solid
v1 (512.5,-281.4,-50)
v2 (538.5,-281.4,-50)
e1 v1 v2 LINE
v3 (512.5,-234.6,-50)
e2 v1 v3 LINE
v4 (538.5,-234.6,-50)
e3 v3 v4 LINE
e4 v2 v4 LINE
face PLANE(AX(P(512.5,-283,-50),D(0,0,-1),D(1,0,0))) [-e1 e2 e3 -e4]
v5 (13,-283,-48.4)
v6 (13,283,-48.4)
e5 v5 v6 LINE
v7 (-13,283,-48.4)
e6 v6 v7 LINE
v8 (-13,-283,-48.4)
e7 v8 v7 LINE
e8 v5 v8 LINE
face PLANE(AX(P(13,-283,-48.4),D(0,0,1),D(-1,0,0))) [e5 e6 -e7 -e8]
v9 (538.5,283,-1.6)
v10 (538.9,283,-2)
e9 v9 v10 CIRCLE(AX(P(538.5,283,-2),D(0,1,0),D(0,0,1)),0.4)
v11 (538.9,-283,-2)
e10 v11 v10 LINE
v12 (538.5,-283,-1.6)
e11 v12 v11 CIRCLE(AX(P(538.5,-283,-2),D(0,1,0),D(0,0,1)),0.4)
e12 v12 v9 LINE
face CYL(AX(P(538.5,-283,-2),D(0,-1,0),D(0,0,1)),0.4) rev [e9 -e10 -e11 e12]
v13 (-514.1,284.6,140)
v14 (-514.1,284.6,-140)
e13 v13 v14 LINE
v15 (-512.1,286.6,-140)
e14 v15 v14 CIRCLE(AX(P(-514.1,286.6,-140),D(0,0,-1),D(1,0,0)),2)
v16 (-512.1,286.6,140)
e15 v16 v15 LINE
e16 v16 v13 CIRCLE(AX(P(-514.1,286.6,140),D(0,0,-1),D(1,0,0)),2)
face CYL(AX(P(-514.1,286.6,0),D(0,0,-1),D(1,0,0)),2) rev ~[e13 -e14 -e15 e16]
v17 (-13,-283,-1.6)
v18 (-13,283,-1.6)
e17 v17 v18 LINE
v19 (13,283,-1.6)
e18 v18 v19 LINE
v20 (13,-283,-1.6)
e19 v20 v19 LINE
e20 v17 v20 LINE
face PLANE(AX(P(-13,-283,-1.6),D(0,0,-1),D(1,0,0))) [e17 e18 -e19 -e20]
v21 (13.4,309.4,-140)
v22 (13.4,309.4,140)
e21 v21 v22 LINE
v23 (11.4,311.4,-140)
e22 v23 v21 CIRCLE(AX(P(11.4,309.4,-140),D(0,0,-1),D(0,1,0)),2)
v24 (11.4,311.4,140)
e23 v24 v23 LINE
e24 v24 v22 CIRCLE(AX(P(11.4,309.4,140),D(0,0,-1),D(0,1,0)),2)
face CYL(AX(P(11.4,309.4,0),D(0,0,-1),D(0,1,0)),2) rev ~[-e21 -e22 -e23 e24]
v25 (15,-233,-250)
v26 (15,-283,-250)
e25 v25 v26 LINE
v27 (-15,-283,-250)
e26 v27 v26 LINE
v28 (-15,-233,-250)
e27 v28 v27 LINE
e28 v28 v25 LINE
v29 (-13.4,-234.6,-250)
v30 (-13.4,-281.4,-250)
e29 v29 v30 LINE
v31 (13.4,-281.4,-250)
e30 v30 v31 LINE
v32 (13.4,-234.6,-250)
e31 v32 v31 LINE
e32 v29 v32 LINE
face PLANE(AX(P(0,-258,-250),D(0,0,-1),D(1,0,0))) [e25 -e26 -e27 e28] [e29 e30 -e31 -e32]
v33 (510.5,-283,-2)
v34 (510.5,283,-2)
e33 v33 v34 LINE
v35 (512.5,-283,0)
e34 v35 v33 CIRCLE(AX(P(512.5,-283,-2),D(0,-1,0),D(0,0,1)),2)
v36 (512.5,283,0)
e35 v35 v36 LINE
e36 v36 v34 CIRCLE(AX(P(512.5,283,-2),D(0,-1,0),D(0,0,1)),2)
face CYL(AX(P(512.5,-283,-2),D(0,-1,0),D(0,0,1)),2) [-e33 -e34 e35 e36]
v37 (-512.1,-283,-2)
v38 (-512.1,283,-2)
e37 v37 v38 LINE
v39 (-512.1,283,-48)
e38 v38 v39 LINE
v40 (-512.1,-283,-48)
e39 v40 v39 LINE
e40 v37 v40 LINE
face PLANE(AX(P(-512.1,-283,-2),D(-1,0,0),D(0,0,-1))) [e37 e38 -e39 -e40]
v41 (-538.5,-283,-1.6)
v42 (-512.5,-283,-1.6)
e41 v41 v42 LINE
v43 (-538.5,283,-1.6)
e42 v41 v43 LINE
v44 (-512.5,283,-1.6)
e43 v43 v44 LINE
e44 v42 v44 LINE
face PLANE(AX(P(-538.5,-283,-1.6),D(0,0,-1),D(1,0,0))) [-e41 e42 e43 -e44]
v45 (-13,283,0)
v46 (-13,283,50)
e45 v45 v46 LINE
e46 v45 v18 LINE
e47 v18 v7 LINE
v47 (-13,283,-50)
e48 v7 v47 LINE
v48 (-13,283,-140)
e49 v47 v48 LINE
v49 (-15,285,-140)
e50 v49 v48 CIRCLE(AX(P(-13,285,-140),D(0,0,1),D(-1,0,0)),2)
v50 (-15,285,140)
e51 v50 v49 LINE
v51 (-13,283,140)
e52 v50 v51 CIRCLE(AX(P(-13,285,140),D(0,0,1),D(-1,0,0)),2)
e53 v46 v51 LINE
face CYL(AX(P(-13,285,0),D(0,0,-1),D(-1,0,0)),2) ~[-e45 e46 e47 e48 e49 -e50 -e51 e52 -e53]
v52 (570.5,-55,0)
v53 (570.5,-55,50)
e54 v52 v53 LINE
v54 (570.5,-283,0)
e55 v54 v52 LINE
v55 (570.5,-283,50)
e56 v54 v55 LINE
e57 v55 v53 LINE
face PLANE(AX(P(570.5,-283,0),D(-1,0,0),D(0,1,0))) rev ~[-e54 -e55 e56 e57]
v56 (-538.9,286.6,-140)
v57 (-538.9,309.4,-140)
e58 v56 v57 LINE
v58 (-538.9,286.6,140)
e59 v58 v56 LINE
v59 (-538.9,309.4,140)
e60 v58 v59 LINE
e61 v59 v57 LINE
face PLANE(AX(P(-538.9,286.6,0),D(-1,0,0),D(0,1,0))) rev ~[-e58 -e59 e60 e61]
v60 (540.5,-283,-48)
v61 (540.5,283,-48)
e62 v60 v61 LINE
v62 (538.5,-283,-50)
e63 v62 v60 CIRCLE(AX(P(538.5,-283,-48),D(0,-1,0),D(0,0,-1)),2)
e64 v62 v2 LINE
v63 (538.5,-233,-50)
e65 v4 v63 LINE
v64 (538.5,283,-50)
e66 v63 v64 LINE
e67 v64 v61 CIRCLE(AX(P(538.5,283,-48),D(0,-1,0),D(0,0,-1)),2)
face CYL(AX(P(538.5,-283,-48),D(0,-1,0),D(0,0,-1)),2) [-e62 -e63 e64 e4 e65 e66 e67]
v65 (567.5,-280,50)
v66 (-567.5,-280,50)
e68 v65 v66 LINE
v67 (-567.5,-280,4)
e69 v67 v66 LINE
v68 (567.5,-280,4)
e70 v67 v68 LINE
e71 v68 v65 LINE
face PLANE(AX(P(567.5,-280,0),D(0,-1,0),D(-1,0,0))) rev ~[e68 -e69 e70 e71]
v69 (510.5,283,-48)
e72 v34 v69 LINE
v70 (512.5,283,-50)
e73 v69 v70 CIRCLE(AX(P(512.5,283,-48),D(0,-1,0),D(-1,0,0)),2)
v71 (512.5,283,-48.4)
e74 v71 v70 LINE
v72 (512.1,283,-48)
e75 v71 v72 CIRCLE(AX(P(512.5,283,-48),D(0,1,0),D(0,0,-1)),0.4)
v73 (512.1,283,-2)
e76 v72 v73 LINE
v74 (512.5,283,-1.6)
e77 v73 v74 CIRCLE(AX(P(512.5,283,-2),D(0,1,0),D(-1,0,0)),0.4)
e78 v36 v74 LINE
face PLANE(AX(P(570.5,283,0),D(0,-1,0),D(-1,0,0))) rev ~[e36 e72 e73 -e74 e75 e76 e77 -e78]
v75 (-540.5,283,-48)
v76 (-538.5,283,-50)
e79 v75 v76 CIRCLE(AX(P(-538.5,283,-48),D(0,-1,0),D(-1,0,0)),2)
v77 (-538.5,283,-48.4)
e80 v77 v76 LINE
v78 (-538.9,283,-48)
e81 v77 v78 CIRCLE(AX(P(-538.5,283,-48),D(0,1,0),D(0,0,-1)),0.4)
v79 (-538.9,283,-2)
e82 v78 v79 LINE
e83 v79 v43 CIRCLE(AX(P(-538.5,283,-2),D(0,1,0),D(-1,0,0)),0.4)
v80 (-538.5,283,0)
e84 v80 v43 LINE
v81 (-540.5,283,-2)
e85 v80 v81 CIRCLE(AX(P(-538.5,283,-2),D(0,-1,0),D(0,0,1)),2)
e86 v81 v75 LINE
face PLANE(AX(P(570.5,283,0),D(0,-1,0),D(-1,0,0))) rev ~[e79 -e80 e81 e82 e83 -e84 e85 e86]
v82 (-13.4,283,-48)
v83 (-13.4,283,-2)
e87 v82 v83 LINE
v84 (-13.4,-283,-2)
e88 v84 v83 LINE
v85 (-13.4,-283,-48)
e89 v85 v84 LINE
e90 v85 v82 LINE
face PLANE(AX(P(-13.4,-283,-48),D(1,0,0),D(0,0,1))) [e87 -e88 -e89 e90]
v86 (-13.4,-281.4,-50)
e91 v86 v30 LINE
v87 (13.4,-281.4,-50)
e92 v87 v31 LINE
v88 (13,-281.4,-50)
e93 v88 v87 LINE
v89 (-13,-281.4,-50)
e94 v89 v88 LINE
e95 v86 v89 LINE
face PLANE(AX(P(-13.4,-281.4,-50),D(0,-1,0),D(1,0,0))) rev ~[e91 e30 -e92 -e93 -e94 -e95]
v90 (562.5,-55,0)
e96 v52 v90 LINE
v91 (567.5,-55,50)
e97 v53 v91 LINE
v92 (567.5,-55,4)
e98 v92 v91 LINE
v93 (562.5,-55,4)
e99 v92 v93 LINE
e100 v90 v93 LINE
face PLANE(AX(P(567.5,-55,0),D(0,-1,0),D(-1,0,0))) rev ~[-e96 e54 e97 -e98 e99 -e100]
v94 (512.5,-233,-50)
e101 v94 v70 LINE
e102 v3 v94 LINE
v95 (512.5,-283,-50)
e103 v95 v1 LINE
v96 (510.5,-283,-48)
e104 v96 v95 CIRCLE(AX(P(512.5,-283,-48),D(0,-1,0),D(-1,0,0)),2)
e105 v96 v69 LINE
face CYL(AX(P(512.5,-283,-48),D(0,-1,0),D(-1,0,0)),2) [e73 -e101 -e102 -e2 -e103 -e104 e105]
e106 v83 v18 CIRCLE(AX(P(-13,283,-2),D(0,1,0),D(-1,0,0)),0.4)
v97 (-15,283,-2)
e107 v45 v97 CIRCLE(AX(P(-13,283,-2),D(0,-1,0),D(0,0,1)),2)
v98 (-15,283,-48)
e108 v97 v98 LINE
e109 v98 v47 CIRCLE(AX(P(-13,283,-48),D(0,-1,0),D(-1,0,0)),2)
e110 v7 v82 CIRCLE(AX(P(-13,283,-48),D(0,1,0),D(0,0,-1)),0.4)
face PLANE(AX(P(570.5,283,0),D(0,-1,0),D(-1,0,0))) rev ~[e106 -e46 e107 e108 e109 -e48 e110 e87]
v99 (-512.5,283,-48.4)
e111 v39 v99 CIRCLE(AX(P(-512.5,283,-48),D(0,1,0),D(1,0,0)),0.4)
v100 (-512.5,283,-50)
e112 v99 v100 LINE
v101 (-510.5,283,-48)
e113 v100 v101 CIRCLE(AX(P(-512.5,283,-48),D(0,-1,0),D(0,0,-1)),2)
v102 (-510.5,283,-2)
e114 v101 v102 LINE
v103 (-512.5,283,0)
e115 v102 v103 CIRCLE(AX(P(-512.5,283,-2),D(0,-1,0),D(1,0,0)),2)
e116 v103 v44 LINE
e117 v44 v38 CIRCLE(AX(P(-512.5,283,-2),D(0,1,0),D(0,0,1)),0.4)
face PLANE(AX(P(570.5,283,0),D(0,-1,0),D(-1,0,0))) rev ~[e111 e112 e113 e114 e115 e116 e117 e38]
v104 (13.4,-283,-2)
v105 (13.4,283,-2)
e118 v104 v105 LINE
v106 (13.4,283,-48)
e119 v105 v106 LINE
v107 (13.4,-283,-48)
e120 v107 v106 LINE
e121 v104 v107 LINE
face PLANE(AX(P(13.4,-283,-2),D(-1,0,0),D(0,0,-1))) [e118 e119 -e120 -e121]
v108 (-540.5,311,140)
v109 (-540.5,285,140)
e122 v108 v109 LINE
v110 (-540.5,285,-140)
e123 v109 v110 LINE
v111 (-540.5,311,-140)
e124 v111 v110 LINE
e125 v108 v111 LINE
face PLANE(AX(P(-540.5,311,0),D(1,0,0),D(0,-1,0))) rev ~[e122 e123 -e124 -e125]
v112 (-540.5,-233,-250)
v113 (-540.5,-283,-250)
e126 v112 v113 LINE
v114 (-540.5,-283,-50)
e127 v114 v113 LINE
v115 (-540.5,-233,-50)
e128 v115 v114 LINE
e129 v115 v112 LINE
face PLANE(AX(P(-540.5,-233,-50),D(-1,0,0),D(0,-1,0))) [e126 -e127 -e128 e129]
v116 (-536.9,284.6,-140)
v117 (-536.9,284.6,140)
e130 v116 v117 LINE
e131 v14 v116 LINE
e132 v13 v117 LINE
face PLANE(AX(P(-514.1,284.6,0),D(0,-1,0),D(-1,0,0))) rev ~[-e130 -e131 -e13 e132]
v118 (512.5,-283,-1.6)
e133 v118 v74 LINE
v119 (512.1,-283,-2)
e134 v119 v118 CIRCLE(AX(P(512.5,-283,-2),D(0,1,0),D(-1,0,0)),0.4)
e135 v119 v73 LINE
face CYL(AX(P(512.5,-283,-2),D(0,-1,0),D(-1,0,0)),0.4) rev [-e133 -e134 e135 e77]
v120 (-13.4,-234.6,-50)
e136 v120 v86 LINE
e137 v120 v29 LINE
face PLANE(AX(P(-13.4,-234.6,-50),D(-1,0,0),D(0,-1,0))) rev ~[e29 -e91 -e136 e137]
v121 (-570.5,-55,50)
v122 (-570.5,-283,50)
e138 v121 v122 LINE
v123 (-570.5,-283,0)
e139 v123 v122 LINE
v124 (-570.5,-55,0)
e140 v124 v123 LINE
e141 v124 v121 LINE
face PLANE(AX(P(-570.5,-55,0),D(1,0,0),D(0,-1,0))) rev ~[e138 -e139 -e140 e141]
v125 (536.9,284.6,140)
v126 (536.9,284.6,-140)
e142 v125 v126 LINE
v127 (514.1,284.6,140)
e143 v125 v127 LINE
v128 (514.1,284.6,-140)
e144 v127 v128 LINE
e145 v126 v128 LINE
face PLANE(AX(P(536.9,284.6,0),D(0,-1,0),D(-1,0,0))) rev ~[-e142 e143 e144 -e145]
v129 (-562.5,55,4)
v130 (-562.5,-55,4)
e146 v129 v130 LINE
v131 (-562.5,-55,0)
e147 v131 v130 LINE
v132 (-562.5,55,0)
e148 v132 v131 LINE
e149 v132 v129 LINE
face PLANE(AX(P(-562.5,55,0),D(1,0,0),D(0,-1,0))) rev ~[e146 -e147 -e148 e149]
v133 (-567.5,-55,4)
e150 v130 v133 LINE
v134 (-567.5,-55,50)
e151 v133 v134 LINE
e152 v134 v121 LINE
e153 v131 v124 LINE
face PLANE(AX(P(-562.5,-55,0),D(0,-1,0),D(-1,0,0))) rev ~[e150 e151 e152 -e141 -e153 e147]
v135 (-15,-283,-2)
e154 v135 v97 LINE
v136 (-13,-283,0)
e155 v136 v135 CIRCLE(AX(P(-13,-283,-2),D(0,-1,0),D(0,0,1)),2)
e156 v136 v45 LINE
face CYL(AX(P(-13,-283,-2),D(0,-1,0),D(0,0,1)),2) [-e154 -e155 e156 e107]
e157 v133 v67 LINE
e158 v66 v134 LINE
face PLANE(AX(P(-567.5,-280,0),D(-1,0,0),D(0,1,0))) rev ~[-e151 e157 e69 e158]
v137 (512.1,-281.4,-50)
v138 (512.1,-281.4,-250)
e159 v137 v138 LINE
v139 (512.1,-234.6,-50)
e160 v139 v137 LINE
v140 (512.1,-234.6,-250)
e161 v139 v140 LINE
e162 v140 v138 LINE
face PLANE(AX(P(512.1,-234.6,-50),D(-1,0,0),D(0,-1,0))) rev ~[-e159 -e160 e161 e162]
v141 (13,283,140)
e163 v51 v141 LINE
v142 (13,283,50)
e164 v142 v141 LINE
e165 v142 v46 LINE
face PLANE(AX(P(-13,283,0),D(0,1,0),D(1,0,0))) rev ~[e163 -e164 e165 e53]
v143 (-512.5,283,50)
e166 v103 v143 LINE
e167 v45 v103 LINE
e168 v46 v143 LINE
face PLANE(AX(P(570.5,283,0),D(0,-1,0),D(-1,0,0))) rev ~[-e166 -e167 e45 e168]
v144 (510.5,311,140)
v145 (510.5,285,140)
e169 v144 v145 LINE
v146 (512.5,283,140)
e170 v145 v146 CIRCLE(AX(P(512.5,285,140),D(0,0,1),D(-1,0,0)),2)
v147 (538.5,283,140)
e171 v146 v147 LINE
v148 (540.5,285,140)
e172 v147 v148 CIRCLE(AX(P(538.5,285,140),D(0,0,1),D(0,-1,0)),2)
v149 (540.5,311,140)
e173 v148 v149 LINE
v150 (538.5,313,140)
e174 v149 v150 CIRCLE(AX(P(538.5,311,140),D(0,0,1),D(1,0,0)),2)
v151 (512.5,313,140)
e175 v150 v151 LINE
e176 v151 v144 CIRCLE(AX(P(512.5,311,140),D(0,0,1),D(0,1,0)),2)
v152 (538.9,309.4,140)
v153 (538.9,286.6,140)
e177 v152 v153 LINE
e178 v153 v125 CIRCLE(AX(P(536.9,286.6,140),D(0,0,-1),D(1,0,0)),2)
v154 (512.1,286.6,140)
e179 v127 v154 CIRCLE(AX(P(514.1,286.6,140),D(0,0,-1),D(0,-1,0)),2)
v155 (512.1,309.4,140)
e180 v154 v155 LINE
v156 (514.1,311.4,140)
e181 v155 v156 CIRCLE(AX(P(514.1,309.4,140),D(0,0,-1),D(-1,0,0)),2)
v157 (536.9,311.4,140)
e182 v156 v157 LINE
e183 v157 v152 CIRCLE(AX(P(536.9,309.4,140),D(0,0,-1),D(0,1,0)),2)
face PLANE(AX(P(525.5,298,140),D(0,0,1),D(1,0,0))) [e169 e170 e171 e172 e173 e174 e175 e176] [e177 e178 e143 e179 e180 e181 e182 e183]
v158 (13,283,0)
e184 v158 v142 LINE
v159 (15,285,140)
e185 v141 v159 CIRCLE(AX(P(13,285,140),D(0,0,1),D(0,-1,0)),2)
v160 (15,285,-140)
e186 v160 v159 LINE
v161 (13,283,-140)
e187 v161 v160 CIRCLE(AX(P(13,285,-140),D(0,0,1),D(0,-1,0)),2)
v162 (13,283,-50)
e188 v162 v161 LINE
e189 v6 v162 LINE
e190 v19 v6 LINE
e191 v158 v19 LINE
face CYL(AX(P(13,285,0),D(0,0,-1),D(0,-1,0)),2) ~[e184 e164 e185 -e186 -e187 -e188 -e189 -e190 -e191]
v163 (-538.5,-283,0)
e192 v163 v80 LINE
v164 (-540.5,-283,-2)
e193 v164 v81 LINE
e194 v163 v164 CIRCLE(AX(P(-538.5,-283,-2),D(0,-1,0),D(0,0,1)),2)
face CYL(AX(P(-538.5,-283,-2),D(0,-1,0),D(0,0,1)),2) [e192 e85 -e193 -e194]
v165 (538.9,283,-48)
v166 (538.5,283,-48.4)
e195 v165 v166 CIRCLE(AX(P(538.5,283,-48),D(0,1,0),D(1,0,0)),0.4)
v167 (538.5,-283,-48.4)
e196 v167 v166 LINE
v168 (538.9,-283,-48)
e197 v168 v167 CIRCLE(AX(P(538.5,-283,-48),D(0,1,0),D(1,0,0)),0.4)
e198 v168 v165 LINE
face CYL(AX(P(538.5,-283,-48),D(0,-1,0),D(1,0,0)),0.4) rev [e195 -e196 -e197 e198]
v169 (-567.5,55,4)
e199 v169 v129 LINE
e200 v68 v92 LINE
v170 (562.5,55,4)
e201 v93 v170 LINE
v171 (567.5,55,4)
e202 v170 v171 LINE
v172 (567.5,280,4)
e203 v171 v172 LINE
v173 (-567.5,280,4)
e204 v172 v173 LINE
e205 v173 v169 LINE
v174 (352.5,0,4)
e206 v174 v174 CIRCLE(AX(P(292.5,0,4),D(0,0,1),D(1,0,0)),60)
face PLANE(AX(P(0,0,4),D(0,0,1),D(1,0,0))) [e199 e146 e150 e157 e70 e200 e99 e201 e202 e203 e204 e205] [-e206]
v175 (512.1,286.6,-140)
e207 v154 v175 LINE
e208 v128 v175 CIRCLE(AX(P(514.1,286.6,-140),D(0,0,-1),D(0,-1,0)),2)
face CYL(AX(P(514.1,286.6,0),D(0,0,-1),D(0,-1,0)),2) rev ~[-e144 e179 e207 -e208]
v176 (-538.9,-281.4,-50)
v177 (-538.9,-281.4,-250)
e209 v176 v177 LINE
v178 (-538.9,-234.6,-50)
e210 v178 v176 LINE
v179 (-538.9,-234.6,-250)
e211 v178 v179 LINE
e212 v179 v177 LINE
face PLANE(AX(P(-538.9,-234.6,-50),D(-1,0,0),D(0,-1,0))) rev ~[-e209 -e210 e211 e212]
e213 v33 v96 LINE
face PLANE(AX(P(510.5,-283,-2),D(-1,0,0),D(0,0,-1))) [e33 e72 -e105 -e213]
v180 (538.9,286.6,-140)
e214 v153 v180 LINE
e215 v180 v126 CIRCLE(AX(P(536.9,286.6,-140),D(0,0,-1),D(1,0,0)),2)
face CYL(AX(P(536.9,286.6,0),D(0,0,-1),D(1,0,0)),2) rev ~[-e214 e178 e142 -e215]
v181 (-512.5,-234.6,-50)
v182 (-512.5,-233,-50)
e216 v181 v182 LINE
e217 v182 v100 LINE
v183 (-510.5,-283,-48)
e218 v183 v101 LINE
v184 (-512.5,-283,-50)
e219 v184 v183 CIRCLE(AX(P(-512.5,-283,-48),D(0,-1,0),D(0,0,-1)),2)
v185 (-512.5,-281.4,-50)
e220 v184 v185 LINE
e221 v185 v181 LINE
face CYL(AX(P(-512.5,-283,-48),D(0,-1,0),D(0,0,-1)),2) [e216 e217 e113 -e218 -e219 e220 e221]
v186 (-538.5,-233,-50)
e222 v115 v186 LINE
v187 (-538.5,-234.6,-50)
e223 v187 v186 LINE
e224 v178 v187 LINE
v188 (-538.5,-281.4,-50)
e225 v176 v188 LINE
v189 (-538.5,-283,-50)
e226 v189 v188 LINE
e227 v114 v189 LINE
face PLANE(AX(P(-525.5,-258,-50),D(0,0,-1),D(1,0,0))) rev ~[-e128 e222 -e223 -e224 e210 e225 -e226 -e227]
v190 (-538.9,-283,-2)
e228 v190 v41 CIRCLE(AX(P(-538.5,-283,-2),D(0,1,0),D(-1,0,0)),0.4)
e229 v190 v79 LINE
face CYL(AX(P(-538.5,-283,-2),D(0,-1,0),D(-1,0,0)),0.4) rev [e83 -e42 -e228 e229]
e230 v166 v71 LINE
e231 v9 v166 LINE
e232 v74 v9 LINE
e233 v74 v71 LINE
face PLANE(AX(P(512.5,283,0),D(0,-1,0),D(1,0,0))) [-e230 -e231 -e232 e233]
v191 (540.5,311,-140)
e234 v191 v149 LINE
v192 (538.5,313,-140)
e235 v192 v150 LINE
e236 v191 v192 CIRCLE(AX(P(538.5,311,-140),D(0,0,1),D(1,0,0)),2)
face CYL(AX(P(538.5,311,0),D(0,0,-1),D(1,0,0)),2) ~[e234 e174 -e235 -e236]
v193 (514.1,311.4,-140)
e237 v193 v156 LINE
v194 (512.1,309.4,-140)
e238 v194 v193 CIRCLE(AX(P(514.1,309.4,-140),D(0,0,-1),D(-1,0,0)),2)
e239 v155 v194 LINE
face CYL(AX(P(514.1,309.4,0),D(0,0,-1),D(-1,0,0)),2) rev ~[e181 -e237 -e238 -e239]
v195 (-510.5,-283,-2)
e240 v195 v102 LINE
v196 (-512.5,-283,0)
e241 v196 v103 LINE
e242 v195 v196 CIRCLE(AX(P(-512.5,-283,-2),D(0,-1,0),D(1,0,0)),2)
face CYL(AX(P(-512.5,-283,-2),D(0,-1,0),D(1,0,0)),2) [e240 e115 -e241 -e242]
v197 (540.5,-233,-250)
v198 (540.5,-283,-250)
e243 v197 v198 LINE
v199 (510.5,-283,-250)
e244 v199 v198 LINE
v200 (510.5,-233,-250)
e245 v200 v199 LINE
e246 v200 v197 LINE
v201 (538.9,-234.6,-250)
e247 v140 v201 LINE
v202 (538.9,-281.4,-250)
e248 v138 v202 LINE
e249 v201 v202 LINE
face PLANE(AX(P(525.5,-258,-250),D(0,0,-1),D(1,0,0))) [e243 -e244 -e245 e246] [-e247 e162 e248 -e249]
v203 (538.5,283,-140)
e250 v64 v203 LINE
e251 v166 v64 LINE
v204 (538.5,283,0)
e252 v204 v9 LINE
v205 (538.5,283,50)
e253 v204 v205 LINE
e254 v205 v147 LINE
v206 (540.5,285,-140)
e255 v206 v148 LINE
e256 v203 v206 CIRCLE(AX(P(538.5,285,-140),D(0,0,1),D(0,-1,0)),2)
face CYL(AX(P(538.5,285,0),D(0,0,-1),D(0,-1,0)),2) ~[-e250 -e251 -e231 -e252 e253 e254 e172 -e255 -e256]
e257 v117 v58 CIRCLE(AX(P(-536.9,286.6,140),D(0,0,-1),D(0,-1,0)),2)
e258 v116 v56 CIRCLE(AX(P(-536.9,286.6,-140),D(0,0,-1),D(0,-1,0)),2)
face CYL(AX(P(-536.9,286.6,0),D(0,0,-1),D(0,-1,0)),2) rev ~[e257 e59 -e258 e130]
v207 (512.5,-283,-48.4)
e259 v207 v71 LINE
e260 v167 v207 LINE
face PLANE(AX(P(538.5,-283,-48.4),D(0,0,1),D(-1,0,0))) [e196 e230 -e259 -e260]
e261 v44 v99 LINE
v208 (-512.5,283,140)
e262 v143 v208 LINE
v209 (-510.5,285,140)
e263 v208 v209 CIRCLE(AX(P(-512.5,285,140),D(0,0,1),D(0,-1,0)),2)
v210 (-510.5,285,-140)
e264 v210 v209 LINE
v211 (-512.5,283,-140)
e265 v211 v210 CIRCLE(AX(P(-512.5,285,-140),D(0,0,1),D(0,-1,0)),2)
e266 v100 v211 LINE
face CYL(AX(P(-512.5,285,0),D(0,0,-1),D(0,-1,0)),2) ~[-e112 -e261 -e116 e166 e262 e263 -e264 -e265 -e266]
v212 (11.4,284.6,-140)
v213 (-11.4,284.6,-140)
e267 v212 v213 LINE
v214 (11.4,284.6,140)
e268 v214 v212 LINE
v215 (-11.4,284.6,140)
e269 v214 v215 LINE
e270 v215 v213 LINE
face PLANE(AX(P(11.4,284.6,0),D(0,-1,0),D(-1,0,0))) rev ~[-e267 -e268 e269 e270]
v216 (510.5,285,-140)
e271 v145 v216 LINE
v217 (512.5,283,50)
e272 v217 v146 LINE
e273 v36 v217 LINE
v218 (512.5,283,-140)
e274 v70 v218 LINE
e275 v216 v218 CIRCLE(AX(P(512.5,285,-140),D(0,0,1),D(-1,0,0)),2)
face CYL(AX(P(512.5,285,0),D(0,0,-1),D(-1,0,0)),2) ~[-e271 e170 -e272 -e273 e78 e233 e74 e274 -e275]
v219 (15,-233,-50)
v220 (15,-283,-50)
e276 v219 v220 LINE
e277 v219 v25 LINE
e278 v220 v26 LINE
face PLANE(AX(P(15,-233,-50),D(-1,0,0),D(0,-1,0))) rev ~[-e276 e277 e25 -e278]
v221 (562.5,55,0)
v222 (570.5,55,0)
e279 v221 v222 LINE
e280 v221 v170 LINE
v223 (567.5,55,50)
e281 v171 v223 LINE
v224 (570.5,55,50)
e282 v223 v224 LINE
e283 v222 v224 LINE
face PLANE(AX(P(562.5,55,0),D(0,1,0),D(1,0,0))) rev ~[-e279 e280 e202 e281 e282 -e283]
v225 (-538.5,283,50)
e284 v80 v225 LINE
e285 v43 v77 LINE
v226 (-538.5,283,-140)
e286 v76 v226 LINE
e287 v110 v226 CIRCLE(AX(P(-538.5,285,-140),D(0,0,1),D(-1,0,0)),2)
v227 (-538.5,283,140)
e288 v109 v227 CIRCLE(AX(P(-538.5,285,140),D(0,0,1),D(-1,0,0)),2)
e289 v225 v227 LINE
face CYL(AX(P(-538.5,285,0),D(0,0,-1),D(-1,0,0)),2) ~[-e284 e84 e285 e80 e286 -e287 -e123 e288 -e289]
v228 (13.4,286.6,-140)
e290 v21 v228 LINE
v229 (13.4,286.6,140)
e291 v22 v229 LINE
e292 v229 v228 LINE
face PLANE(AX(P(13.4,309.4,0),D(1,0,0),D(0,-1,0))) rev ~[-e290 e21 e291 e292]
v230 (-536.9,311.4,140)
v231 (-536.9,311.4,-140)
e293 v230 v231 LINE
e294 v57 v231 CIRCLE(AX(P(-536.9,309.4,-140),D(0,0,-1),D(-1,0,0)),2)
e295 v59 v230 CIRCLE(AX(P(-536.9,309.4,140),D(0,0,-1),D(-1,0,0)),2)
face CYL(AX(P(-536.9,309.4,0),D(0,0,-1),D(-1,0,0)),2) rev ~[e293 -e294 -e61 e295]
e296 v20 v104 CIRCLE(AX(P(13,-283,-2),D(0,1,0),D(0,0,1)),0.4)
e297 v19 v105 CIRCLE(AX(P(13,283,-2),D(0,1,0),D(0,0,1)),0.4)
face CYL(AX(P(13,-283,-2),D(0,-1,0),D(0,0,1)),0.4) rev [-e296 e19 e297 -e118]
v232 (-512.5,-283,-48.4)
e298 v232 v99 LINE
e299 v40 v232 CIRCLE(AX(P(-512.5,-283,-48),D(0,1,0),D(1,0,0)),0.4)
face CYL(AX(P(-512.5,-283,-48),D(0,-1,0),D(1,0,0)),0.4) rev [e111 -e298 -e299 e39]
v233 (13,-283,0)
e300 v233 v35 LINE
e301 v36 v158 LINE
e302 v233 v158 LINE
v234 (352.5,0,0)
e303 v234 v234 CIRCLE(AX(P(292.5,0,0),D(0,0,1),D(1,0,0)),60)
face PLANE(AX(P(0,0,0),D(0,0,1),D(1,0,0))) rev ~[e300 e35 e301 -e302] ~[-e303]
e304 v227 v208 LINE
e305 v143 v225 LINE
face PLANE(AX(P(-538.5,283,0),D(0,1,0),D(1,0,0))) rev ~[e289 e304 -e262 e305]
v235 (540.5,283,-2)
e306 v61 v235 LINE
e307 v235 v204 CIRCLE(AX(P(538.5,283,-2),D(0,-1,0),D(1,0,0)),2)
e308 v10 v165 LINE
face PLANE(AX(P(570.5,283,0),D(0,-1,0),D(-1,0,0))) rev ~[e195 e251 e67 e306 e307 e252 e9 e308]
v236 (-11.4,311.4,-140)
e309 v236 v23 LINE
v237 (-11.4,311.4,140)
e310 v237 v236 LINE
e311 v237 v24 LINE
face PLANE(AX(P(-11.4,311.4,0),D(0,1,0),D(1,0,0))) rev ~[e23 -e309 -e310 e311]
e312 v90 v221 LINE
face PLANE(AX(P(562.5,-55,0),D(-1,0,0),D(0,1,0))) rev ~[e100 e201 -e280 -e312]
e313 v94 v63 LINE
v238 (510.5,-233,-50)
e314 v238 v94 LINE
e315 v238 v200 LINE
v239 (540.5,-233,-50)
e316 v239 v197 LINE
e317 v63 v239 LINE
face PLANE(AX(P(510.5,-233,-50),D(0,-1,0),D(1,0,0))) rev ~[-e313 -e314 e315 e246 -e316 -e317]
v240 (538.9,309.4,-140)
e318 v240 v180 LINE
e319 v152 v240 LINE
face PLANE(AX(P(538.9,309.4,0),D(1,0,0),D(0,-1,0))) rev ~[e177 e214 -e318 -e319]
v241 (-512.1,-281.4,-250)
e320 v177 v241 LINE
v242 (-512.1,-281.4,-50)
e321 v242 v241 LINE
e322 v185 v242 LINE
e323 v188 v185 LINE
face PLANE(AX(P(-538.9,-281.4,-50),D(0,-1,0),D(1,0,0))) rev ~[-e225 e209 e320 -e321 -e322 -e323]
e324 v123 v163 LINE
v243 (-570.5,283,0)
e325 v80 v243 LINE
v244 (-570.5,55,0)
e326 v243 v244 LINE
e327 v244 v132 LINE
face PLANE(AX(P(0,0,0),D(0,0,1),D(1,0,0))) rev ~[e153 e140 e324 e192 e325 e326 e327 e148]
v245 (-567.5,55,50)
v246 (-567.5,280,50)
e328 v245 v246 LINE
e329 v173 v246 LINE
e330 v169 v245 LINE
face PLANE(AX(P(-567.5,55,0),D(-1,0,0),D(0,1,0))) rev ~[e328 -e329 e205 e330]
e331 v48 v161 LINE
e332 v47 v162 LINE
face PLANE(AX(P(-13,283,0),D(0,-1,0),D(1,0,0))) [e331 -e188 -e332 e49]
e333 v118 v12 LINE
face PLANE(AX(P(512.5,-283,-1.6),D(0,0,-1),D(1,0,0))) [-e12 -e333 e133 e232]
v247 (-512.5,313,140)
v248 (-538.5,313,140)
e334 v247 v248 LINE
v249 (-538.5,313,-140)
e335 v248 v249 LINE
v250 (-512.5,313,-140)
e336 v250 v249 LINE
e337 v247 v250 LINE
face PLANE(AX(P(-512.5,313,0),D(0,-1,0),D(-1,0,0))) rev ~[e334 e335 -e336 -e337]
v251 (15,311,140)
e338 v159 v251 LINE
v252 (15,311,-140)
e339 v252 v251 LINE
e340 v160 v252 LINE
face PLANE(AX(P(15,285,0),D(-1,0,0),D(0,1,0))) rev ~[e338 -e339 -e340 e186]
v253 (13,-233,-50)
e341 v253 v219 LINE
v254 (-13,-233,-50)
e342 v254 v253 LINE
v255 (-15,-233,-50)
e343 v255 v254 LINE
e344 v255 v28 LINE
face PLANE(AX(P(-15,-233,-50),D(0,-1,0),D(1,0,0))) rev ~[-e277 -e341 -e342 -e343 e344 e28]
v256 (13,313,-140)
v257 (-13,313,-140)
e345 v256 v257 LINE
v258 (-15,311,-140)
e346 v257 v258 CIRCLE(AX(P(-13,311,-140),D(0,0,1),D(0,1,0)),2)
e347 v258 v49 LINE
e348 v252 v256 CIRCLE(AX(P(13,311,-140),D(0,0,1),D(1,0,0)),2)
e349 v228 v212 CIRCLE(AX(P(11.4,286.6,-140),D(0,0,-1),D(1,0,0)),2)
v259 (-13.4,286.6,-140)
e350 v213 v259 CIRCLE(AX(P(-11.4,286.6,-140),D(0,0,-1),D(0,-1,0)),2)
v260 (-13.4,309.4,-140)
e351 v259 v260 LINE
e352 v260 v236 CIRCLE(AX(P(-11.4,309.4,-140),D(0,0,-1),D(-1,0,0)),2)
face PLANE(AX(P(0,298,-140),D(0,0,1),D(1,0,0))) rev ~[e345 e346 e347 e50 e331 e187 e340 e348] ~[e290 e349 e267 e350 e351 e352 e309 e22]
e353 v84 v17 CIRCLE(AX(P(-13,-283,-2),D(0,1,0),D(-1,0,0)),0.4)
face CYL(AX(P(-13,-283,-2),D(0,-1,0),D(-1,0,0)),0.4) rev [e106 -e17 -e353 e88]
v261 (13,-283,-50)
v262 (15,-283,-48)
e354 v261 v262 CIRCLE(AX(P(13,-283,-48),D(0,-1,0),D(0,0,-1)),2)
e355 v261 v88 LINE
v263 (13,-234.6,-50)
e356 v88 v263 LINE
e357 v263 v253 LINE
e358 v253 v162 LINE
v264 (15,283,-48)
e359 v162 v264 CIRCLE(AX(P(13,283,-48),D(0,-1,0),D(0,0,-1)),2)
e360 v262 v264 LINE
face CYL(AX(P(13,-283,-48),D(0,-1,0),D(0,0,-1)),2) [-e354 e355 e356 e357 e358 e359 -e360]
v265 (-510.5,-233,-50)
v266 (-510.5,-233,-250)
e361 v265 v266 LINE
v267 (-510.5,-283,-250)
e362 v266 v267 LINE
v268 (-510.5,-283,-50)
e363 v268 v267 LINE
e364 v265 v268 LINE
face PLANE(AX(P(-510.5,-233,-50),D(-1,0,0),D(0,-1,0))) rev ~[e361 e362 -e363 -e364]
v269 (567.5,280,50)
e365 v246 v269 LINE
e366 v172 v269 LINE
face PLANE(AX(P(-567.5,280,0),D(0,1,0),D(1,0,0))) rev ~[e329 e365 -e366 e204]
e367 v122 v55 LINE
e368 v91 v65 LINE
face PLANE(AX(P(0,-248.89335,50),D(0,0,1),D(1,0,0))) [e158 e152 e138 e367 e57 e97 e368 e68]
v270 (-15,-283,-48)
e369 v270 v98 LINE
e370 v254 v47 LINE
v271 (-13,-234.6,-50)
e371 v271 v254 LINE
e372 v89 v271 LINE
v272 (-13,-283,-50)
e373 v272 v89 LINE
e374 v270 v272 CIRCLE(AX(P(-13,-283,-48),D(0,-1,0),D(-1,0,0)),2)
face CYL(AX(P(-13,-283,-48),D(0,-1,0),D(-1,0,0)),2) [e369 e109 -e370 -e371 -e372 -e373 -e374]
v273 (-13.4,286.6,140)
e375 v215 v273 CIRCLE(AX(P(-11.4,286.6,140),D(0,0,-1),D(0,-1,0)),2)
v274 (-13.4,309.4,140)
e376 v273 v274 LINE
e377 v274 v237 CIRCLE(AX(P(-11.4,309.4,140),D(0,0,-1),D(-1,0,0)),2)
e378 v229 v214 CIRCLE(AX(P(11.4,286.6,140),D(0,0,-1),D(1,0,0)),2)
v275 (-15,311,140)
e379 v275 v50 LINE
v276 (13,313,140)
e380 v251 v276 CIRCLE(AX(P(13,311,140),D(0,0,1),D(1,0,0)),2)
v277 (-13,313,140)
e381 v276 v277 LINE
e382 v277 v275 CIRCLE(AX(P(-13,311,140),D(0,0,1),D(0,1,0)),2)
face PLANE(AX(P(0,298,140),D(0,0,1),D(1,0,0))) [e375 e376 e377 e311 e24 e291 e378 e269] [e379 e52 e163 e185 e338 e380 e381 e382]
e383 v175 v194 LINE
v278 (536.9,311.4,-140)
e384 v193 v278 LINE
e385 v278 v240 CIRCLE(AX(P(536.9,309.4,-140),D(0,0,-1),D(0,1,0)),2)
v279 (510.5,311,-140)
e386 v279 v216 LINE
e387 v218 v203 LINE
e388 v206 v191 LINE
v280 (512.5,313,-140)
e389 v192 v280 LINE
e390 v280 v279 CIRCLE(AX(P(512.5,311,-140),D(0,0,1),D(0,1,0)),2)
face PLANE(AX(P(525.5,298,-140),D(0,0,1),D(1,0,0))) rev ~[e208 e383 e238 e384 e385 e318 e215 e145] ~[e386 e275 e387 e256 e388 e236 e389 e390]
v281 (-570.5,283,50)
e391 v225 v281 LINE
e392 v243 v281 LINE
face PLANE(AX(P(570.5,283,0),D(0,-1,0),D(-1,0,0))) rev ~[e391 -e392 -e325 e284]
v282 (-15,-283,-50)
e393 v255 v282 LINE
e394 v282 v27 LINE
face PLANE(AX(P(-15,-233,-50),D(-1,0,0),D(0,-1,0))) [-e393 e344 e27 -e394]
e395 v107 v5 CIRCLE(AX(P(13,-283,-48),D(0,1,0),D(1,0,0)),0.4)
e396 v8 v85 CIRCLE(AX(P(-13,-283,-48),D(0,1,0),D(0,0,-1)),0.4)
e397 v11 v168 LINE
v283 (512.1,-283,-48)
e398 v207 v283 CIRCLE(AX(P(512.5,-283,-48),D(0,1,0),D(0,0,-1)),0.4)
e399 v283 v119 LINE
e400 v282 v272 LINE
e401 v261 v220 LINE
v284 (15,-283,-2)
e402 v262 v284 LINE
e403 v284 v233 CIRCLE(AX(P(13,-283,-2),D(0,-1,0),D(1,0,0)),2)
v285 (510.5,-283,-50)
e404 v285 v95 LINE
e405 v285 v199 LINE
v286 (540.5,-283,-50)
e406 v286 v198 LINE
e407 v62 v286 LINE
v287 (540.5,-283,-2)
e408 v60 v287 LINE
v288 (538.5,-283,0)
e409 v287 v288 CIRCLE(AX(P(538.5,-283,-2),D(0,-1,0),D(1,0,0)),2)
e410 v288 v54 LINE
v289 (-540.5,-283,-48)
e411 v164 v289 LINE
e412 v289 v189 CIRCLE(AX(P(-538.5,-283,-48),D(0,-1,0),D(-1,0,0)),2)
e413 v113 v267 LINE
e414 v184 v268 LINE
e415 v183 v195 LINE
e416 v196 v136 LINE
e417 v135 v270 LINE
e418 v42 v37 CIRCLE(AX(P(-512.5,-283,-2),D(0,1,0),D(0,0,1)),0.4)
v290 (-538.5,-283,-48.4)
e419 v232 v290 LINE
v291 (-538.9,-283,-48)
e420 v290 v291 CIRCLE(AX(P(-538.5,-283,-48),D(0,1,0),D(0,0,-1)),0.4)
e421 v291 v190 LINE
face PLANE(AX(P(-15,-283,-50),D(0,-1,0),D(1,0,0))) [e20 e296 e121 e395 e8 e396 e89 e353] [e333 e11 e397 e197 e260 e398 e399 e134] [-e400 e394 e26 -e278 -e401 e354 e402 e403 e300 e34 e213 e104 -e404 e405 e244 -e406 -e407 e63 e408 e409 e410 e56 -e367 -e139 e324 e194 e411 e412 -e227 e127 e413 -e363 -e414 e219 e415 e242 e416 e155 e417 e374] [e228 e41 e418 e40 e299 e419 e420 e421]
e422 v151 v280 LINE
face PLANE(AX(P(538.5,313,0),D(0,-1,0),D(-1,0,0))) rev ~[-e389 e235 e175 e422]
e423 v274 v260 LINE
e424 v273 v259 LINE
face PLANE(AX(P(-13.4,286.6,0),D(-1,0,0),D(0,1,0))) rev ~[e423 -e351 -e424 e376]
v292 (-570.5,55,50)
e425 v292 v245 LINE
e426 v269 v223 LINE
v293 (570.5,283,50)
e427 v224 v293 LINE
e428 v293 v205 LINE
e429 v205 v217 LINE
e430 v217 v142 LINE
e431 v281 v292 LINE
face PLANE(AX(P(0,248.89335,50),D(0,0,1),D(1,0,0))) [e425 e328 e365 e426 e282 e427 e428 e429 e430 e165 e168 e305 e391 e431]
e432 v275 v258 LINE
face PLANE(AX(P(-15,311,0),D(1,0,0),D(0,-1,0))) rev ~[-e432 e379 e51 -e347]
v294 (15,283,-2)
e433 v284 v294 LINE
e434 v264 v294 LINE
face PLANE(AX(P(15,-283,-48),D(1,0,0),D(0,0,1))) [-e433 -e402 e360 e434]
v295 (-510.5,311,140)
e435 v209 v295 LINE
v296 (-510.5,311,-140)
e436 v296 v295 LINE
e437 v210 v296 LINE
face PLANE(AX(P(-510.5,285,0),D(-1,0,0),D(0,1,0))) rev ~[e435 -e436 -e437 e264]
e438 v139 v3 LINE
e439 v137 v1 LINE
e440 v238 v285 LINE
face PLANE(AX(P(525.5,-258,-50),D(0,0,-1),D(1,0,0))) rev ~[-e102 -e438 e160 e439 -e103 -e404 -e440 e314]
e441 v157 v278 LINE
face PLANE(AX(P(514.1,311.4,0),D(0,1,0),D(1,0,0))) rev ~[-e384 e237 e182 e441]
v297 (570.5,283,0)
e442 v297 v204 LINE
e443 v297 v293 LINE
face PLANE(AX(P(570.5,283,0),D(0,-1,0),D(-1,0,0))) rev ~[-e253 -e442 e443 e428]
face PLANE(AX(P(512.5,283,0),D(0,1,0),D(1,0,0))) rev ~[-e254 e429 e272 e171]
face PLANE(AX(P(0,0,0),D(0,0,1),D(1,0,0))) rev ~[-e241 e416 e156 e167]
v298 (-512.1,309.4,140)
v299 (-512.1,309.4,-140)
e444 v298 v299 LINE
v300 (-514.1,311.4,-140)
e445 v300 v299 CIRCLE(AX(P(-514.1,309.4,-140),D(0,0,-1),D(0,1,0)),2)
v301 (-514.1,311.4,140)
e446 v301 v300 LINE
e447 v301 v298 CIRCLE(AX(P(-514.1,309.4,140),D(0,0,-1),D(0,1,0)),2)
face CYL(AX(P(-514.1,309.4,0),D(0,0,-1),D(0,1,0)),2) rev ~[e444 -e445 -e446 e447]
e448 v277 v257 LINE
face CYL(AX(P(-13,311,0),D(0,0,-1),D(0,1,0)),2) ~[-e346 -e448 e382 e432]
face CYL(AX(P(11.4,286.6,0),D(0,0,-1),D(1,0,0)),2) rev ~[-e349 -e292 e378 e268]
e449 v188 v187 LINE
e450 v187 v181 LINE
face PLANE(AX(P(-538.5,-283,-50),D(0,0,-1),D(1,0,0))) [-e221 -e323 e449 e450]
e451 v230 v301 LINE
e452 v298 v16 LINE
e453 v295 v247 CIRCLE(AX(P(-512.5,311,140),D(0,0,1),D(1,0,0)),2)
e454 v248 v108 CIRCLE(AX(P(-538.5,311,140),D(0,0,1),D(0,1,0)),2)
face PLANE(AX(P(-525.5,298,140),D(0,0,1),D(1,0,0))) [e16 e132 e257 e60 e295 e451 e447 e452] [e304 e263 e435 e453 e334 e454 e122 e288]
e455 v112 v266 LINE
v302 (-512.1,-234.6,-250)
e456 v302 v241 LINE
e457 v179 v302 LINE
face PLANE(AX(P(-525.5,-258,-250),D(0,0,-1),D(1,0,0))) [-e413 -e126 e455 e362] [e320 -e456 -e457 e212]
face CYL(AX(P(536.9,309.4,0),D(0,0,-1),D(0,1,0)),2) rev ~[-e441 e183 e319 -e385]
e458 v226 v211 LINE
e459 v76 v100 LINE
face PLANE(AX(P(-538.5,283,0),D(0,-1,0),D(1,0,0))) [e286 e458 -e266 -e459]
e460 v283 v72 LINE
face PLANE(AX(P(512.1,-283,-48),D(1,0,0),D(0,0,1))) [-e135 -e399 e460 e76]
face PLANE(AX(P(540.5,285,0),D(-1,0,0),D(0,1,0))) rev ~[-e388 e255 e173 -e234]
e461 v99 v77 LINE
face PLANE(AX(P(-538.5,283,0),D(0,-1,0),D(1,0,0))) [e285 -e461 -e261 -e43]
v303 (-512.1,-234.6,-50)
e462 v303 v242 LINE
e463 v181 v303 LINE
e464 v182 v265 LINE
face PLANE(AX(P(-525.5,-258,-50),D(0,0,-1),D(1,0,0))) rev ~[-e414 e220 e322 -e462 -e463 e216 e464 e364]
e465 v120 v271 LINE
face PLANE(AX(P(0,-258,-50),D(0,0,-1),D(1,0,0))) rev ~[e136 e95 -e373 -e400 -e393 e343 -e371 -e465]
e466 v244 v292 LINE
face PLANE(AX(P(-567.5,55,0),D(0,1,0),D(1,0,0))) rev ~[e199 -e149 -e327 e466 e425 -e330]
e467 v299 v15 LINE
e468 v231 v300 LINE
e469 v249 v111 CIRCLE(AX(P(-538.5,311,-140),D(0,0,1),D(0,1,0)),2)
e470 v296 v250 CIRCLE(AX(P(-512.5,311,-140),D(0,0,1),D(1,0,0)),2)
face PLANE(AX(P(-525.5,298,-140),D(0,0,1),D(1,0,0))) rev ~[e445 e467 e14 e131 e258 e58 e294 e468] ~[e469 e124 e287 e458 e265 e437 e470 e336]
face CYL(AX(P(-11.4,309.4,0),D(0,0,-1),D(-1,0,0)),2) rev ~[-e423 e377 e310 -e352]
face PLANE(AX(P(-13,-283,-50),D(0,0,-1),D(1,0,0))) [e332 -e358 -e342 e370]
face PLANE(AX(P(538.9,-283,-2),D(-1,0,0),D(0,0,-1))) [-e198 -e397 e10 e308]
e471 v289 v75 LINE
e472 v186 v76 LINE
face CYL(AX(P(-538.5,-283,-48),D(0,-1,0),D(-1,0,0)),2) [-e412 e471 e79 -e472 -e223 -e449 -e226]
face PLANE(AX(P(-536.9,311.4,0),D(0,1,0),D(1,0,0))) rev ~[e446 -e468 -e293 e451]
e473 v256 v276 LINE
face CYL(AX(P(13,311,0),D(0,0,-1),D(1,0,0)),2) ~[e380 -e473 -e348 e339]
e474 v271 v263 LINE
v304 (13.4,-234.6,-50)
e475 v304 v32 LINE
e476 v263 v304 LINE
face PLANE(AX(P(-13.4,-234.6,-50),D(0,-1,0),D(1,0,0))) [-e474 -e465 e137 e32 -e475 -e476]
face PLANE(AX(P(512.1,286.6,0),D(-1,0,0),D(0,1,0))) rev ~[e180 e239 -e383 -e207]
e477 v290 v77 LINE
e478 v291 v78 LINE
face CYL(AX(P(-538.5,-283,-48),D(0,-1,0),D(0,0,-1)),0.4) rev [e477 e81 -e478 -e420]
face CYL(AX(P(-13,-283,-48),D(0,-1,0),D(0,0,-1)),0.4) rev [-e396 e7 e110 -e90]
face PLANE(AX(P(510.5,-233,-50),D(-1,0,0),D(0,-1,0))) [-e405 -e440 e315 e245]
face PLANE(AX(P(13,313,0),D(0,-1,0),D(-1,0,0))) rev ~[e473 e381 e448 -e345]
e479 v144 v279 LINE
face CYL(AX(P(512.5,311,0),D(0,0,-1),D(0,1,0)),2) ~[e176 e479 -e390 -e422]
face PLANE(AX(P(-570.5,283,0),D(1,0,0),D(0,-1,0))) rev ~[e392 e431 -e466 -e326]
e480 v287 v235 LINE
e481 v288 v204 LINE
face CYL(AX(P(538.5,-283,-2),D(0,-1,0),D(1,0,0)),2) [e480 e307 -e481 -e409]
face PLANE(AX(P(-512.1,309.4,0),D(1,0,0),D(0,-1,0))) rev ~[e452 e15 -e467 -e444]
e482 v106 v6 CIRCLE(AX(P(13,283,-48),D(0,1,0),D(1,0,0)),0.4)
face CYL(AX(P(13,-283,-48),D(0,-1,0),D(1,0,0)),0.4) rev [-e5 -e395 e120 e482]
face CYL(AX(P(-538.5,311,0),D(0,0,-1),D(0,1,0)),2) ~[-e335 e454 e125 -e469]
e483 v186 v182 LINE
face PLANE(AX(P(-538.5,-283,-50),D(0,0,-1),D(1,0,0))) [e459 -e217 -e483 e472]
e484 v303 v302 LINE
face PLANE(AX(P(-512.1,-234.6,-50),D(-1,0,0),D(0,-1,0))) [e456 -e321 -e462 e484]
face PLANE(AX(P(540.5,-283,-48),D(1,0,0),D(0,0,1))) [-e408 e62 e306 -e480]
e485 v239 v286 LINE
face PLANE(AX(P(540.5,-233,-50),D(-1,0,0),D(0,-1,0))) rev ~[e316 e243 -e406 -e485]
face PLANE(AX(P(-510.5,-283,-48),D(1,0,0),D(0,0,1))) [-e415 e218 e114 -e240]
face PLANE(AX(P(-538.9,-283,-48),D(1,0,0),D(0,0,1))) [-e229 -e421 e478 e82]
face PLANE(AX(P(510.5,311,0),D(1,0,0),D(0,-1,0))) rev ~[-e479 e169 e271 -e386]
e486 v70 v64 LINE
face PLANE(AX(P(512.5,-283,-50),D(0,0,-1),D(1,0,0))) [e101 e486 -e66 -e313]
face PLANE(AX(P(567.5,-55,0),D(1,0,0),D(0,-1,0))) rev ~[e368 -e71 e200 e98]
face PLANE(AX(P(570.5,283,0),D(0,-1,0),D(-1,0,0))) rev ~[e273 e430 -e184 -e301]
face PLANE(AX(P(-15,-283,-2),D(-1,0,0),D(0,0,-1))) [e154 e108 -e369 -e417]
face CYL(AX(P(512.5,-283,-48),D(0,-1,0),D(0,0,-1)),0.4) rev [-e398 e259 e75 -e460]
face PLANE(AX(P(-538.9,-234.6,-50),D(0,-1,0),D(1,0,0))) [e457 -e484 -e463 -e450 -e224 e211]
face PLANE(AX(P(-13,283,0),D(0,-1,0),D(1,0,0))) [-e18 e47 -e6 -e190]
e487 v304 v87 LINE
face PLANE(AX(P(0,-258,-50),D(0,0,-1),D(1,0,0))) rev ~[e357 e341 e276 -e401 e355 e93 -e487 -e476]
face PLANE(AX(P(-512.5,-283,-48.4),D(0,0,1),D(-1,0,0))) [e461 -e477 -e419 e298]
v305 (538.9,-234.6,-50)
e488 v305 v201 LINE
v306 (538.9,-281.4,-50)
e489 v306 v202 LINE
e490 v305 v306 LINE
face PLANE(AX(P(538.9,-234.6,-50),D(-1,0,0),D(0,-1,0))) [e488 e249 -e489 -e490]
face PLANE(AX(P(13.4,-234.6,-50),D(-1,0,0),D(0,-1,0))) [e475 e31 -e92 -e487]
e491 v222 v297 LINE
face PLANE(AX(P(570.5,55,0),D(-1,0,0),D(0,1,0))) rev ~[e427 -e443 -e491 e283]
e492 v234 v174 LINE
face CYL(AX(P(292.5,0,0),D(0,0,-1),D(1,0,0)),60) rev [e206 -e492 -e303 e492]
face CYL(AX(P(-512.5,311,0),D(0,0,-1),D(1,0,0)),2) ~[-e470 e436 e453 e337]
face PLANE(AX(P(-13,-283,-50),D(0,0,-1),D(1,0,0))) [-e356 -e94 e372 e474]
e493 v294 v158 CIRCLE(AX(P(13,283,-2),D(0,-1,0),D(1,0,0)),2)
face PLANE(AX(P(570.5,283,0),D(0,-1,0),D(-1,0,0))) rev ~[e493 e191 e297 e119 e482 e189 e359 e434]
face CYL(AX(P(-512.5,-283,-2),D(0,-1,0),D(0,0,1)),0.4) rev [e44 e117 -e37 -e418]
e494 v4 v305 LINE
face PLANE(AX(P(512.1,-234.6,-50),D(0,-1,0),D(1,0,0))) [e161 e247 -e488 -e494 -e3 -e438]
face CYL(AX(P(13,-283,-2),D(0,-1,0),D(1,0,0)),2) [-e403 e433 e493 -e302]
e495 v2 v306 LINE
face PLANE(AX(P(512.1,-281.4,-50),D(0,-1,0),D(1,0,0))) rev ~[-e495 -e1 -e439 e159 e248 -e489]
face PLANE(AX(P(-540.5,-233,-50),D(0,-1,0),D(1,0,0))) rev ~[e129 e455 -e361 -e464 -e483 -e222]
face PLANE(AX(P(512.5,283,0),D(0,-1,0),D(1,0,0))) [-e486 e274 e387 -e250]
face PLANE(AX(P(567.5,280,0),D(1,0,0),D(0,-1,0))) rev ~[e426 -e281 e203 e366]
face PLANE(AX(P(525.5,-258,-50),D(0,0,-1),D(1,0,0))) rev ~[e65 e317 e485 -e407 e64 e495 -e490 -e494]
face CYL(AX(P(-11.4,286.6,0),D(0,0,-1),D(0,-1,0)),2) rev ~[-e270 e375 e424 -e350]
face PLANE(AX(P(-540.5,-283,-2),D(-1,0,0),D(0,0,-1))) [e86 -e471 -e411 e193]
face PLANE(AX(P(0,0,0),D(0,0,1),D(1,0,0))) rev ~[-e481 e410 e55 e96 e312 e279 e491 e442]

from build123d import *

# Parameters (mm, degrees)
F0_R          = 60
F1_DEPTH      = 4
F2_DEPTH      = 50
F4_DEPTH      = 566
F5_DEPTH      = 140
F5_DEPTH_BACK = 140
F6_W          = 30
F6_H          = 50
F6_W_2        = 26.8
F6_H_2        = 46.8
F7_DEPTH      = 200


with BuildPart() as f1:
    # F0 (on Top) → F1 (new body)
    with BuildSketch(Plane.XY):
        Polygon((567.5, 55), (567.5, 280), (-567.5, 280), (-567.5, 55), (-562.5, 55), (-562.5, -55), (-567.5, -55), (-567.5, -280), (567.5, -280), (567.5, -55), (562.5, -55), (562.5, 55), align=None)
        with Locations((292.5, 0)):
            Circle(F0_R, mode=Mode.SUBTRACT)
    extrude(amount=F1_DEPTH)

    # F0 (on Top) → F2 (join)
    with BuildSketch(Plane.XY):
        Polygon((-567.5, 280), (567.5, 280), (567.5, 55), (570.5, 55), (570.5, 283), (538.5, 283), (512.5, 283), (13, 283), (-13, 283), (-512.5, 283), (-538.5, 283), (-570.5, 283), (-570.5, 55), (-567.5, 55), align=None)
        Polygon((570.5, -55), (567.5, -55), (567.5, -280), (-567.5, -280), (-567.5, -55), (-570.5, -55), (-570.5, -283), (570.5, -283), align=None)
    extrude(amount=F2_DEPTH)

    # F3 (on face) → F4 (join)
    with BuildSketch(Plane.XZ.offset(283)):
        with BuildLine():
            Line((-512.5, 0), (-538.5, 0))
            ThreePointArc((-538.5, 0), (-539.9142135624, -0.5857864376), (-540.5, -2))
            Line((-540.5, -2), (-540.5, -48))
            ThreePointArc((-540.5, -48), (-539.9142135624, -49.4142135624), (-538.5, -50))
            Line((-538.5, -50), (-512.5, -50))
            ThreePointArc((-512.5, -50), (-511.0857864376, -49.4142135624), (-510.5, -48))
            Line((-510.5, -48), (-510.5, -2))
            ThreePointArc((-510.5, -2), (-511.0857864376, -0.5857864376), (-512.5, 0))
        make_face()
        with BuildLine():
            Line((-538.9, -48), (-538.9, -2))
            ThreePointArc((-538.9, -2), (-538.7828427125, -1.7171572875), (-538.5, -1.6))
            Line((-538.5, -1.6), (-512.5, -1.6))
            ThreePointArc((-512.5, -1.6), (-512.2171572875, -1.7171572875), (-512.1, -2))
            Line((-512.1, -2), (-512.1, -48))
            ThreePointArc((-512.1, -48), (-512.2171572875, -48.2828427125), (-512.5, -48.4))
            Line((-512.5, -48.4), (-538.5, -48.4))
            ThreePointArc((-538.5, -48.4), (-538.7828427125, -48.2828427125), (-538.9, -48))
        make_face(mode=Mode.SUBTRACT)
        with BuildLine():
            Line((13, 0), (-13, 0))
            ThreePointArc((-13, 0), (-14.4142135624, -0.5857864376), (-15, -2))
            Line((-15, -2), (-15, -48))
            ThreePointArc((-15, -48), (-14.4142135624, -49.4142135624), (-13, -50))
            Line((-13, -50), (13, -50))
            ThreePointArc((13, -50), (14.4142135624, -49.4142135624), (15, -48))
            Line((15, -48), (15, -2))
            ThreePointArc((15, -2), (14.4142135624, -0.5857864376), (13, 0))
        make_face()
        with BuildLine():
            Line((-13.4, -48), (-13.4, -2))
            ThreePointArc((-13.4, -2), (-13.2828427125, -1.7171572875), (-13, -1.6))
            Line((-13, -1.6), (13, -1.6))
            ThreePointArc((13, -1.6), (13.2828427125, -1.7171572875), (13.4, -2))
            Line((13.4, -2), (13.4, -48))
            ThreePointArc((13.4, -48), (13.2828427125, -48.2828427125), (13, -48.4))
            Line((13, -48.4), (-13, -48.4))
            ThreePointArc((-13, -48.4), (-13.2828427125, -48.2828427125), (-13.4, -48))
        make_face(mode=Mode.SUBTRACT)
        with BuildLine():
            Line((538.5, 0), (512.5, 0))
            ThreePointArc((512.5, 0), (511.0857864376, -0.5857864376), (510.5, -2))
            Line((510.5, -2), (510.5, -48))
            ThreePointArc((510.5, -48), (511.0857864376, -49.4142135624), (512.5, -50))
            Line((512.5, -50), (538.5, -50))
            ThreePointArc((538.5, -50), (539.9142135624, -49.4142135624), (540.5, -48))
            Line((540.5, -48), (540.5, -2))
            ThreePointArc((540.5, -2), (539.9142135624, -0.5857864376), (538.5, 0))
        make_face()
        with BuildLine():
            ThreePointArc((538.9, -48), (538.7828427125, -48.2828427125), (538.5, -48.4))
            Line((538.5, -48.4), (512.5, -48.4))
            ThreePointArc((512.5, -48.4), (512.2171572875, -48.2828427125), (512.1, -48))
            Line((512.1, -48), (512.1, -2))
            ThreePointArc((512.1, -2), (512.2171572875, -1.7171572875), (512.5, -1.6))
            Line((512.5, -1.6), (538.5, -1.6))
            ThreePointArc((538.5, -1.6), (538.7828427125, -1.7171572875), (538.9, -2))
            Line((538.9, -2), (538.9, -48))
        make_face(mode=Mode.SUBTRACT)
    extrude(amount=-F4_DEPTH)

    # F0 (on Top) → F5 (join, two sides)
    with BuildSketch(Plane.XY) as f5_sk:
        with BuildLine():
            ThreePointArc((-540.5, 285), (-539.9142135624, 283.5857864376), (-538.5, 283))
            Line((-538.5, 283), (-512.5, 283))
            ThreePointArc((-512.5, 283), (-511.0857864376, 283.5857864376), (-510.5, 285))
            Line((-510.5, 285), (-510.5, 311))
            ThreePointArc((-510.5, 311), (-511.0857864376, 312.4142135624), (-512.5, 313))
            Line((-512.5, 313), (-538.5, 313))
            ThreePointArc((-538.5, 313), (-539.9142135624, 312.4142135624), (-540.5, 311))
            Line((-540.5, 311), (-540.5, 285))
        make_face()
        with BuildLine():
            ThreePointArc((-536.9, 284.6), (-538.3142135624, 285.1857864376), (-538.9, 286.6))
            Line((-538.9, 286.6), (-538.9, 309.4))
            ThreePointArc((-538.9, 309.4), (-538.3142135624, 310.8142135624), (-536.9, 311.4))
            Line((-536.9, 311.4), (-514.1, 311.4))
            ThreePointArc((-514.1, 311.4), (-512.6857864376, 310.8142135624), (-512.1, 309.4))
            Line((-512.1, 309.4), (-512.1, 286.6))
            ThreePointArc((-512.1, 286.6), (-512.6857864376, 285.1857864376), (-514.1, 284.6))
            Line((-514.1, 284.6), (-536.9, 284.6))
        make_face(mode=Mode.SUBTRACT)
        with BuildLine():
            Line((-13, 283), (13, 283))
            ThreePointArc((13, 283), (14.4142135624, 283.5857864376), (15, 285))
            Line((15, 285), (15, 311))
            ThreePointArc((15, 311), (14.4142135624, 312.4142135624), (13, 313))
            Line((13, 313), (-13, 313))
            ThreePointArc((-13, 313), (-14.4142135624, 312.4142135624), (-15, 311))
            Line((-15, 311), (-15, 285))
            ThreePointArc((-15, 285), (-14.4142135624, 283.5857864376), (-13, 283))
        make_face()
        with BuildLine():
            Line((13.4, 309.4), (13.4, 286.6))
            ThreePointArc((13.4, 286.6), (12.8142135624, 285.1857864376), (11.4, 284.6))
            Line((11.4, 284.6), (-11.4, 284.6))
            ThreePointArc((-11.4, 284.6), (-12.8142135624, 285.1857864376), (-13.4, 286.6))
            Line((-13.4, 286.6), (-13.4, 309.4))
            ThreePointArc((-13.4, 309.4), (-12.8142135624, 310.8142135624), (-11.4, 311.4))
            Line((-11.4, 311.4), (11.4, 311.4))
            ThreePointArc((11.4, 311.4), (12.8142135624, 310.8142135624), (13.4, 309.4))
        make_face(mode=Mode.SUBTRACT)
        with BuildLine():
            Line((512.5, 283), (538.5, 283))
            ThreePointArc((538.5, 283), (539.9142135624, 283.5857864376), (540.5, 285))
            Line((540.5, 285), (540.5, 311))
            ThreePointArc((540.5, 311), (539.9142135624, 312.4142135624), (538.5, 313))
            Line((538.5, 313), (512.5, 313))
            ThreePointArc((512.5, 313), (511.0857864376, 312.4142135624), (510.5, 311))
            Line((510.5, 311), (510.5, 285))
            ThreePointArc((510.5, 285), (511.0857864376, 283.5857864376), (512.5, 283))
        make_face()
        with BuildLine():
            Line((514.1, 311.4), (536.9, 311.4))
            ThreePointArc((536.9, 311.4), (538.3142135624, 310.8142135624), (538.9, 309.4))
            Line((538.9, 309.4), (538.9, 286.6))
            ThreePointArc((538.9, 286.6), (538.3142135624, 285.1857864376), (536.9, 284.6))
            Line((536.9, 284.6), (514.1, 284.6))
            ThreePointArc((514.1, 284.6), (512.6857864376, 285.1857864376), (512.1, 286.6))
            Line((512.1, 286.6), (512.1, 309.4))
            ThreePointArc((512.1, 309.4), (512.6857864376, 310.8142135624), (514.1, 311.4))
        make_face(mode=Mode.SUBTRACT)
    extrude(amount=-F5_DEPTH)
    extrude(f5_sk.sketch, amount=F5_DEPTH_BACK)

    # F6 (on face) → F7 (join)
    with BuildSketch(Plane(origin=(0, 0, -50), x_dir=(1, 0, 0), z_dir=(0, 0, -1))):
        with Locations((0, 258)):
            Rectangle(F6_W, F6_H)
        with Locations((0, 258)):
            Rectangle(F6_W_2, F6_H_2, mode=Mode.SUBTRACT)
        with Locations((-525.5, 258)):
            Rectangle(F6_W, F6_H)
        with Locations((-525.5, 258)):
            Rectangle(F6_W_2, F6_H_2, mode=Mode.SUBTRACT)
        with Locations((525.5, 258)):
            Rectangle(F6_W, F6_H)
        with Locations((525.5, 258)):
            Rectangle(F6_W_2, F6_H_2, mode=Mode.SUBTRACT)
    extrude(amount=F7_DEPTH)


solid = f1.part
